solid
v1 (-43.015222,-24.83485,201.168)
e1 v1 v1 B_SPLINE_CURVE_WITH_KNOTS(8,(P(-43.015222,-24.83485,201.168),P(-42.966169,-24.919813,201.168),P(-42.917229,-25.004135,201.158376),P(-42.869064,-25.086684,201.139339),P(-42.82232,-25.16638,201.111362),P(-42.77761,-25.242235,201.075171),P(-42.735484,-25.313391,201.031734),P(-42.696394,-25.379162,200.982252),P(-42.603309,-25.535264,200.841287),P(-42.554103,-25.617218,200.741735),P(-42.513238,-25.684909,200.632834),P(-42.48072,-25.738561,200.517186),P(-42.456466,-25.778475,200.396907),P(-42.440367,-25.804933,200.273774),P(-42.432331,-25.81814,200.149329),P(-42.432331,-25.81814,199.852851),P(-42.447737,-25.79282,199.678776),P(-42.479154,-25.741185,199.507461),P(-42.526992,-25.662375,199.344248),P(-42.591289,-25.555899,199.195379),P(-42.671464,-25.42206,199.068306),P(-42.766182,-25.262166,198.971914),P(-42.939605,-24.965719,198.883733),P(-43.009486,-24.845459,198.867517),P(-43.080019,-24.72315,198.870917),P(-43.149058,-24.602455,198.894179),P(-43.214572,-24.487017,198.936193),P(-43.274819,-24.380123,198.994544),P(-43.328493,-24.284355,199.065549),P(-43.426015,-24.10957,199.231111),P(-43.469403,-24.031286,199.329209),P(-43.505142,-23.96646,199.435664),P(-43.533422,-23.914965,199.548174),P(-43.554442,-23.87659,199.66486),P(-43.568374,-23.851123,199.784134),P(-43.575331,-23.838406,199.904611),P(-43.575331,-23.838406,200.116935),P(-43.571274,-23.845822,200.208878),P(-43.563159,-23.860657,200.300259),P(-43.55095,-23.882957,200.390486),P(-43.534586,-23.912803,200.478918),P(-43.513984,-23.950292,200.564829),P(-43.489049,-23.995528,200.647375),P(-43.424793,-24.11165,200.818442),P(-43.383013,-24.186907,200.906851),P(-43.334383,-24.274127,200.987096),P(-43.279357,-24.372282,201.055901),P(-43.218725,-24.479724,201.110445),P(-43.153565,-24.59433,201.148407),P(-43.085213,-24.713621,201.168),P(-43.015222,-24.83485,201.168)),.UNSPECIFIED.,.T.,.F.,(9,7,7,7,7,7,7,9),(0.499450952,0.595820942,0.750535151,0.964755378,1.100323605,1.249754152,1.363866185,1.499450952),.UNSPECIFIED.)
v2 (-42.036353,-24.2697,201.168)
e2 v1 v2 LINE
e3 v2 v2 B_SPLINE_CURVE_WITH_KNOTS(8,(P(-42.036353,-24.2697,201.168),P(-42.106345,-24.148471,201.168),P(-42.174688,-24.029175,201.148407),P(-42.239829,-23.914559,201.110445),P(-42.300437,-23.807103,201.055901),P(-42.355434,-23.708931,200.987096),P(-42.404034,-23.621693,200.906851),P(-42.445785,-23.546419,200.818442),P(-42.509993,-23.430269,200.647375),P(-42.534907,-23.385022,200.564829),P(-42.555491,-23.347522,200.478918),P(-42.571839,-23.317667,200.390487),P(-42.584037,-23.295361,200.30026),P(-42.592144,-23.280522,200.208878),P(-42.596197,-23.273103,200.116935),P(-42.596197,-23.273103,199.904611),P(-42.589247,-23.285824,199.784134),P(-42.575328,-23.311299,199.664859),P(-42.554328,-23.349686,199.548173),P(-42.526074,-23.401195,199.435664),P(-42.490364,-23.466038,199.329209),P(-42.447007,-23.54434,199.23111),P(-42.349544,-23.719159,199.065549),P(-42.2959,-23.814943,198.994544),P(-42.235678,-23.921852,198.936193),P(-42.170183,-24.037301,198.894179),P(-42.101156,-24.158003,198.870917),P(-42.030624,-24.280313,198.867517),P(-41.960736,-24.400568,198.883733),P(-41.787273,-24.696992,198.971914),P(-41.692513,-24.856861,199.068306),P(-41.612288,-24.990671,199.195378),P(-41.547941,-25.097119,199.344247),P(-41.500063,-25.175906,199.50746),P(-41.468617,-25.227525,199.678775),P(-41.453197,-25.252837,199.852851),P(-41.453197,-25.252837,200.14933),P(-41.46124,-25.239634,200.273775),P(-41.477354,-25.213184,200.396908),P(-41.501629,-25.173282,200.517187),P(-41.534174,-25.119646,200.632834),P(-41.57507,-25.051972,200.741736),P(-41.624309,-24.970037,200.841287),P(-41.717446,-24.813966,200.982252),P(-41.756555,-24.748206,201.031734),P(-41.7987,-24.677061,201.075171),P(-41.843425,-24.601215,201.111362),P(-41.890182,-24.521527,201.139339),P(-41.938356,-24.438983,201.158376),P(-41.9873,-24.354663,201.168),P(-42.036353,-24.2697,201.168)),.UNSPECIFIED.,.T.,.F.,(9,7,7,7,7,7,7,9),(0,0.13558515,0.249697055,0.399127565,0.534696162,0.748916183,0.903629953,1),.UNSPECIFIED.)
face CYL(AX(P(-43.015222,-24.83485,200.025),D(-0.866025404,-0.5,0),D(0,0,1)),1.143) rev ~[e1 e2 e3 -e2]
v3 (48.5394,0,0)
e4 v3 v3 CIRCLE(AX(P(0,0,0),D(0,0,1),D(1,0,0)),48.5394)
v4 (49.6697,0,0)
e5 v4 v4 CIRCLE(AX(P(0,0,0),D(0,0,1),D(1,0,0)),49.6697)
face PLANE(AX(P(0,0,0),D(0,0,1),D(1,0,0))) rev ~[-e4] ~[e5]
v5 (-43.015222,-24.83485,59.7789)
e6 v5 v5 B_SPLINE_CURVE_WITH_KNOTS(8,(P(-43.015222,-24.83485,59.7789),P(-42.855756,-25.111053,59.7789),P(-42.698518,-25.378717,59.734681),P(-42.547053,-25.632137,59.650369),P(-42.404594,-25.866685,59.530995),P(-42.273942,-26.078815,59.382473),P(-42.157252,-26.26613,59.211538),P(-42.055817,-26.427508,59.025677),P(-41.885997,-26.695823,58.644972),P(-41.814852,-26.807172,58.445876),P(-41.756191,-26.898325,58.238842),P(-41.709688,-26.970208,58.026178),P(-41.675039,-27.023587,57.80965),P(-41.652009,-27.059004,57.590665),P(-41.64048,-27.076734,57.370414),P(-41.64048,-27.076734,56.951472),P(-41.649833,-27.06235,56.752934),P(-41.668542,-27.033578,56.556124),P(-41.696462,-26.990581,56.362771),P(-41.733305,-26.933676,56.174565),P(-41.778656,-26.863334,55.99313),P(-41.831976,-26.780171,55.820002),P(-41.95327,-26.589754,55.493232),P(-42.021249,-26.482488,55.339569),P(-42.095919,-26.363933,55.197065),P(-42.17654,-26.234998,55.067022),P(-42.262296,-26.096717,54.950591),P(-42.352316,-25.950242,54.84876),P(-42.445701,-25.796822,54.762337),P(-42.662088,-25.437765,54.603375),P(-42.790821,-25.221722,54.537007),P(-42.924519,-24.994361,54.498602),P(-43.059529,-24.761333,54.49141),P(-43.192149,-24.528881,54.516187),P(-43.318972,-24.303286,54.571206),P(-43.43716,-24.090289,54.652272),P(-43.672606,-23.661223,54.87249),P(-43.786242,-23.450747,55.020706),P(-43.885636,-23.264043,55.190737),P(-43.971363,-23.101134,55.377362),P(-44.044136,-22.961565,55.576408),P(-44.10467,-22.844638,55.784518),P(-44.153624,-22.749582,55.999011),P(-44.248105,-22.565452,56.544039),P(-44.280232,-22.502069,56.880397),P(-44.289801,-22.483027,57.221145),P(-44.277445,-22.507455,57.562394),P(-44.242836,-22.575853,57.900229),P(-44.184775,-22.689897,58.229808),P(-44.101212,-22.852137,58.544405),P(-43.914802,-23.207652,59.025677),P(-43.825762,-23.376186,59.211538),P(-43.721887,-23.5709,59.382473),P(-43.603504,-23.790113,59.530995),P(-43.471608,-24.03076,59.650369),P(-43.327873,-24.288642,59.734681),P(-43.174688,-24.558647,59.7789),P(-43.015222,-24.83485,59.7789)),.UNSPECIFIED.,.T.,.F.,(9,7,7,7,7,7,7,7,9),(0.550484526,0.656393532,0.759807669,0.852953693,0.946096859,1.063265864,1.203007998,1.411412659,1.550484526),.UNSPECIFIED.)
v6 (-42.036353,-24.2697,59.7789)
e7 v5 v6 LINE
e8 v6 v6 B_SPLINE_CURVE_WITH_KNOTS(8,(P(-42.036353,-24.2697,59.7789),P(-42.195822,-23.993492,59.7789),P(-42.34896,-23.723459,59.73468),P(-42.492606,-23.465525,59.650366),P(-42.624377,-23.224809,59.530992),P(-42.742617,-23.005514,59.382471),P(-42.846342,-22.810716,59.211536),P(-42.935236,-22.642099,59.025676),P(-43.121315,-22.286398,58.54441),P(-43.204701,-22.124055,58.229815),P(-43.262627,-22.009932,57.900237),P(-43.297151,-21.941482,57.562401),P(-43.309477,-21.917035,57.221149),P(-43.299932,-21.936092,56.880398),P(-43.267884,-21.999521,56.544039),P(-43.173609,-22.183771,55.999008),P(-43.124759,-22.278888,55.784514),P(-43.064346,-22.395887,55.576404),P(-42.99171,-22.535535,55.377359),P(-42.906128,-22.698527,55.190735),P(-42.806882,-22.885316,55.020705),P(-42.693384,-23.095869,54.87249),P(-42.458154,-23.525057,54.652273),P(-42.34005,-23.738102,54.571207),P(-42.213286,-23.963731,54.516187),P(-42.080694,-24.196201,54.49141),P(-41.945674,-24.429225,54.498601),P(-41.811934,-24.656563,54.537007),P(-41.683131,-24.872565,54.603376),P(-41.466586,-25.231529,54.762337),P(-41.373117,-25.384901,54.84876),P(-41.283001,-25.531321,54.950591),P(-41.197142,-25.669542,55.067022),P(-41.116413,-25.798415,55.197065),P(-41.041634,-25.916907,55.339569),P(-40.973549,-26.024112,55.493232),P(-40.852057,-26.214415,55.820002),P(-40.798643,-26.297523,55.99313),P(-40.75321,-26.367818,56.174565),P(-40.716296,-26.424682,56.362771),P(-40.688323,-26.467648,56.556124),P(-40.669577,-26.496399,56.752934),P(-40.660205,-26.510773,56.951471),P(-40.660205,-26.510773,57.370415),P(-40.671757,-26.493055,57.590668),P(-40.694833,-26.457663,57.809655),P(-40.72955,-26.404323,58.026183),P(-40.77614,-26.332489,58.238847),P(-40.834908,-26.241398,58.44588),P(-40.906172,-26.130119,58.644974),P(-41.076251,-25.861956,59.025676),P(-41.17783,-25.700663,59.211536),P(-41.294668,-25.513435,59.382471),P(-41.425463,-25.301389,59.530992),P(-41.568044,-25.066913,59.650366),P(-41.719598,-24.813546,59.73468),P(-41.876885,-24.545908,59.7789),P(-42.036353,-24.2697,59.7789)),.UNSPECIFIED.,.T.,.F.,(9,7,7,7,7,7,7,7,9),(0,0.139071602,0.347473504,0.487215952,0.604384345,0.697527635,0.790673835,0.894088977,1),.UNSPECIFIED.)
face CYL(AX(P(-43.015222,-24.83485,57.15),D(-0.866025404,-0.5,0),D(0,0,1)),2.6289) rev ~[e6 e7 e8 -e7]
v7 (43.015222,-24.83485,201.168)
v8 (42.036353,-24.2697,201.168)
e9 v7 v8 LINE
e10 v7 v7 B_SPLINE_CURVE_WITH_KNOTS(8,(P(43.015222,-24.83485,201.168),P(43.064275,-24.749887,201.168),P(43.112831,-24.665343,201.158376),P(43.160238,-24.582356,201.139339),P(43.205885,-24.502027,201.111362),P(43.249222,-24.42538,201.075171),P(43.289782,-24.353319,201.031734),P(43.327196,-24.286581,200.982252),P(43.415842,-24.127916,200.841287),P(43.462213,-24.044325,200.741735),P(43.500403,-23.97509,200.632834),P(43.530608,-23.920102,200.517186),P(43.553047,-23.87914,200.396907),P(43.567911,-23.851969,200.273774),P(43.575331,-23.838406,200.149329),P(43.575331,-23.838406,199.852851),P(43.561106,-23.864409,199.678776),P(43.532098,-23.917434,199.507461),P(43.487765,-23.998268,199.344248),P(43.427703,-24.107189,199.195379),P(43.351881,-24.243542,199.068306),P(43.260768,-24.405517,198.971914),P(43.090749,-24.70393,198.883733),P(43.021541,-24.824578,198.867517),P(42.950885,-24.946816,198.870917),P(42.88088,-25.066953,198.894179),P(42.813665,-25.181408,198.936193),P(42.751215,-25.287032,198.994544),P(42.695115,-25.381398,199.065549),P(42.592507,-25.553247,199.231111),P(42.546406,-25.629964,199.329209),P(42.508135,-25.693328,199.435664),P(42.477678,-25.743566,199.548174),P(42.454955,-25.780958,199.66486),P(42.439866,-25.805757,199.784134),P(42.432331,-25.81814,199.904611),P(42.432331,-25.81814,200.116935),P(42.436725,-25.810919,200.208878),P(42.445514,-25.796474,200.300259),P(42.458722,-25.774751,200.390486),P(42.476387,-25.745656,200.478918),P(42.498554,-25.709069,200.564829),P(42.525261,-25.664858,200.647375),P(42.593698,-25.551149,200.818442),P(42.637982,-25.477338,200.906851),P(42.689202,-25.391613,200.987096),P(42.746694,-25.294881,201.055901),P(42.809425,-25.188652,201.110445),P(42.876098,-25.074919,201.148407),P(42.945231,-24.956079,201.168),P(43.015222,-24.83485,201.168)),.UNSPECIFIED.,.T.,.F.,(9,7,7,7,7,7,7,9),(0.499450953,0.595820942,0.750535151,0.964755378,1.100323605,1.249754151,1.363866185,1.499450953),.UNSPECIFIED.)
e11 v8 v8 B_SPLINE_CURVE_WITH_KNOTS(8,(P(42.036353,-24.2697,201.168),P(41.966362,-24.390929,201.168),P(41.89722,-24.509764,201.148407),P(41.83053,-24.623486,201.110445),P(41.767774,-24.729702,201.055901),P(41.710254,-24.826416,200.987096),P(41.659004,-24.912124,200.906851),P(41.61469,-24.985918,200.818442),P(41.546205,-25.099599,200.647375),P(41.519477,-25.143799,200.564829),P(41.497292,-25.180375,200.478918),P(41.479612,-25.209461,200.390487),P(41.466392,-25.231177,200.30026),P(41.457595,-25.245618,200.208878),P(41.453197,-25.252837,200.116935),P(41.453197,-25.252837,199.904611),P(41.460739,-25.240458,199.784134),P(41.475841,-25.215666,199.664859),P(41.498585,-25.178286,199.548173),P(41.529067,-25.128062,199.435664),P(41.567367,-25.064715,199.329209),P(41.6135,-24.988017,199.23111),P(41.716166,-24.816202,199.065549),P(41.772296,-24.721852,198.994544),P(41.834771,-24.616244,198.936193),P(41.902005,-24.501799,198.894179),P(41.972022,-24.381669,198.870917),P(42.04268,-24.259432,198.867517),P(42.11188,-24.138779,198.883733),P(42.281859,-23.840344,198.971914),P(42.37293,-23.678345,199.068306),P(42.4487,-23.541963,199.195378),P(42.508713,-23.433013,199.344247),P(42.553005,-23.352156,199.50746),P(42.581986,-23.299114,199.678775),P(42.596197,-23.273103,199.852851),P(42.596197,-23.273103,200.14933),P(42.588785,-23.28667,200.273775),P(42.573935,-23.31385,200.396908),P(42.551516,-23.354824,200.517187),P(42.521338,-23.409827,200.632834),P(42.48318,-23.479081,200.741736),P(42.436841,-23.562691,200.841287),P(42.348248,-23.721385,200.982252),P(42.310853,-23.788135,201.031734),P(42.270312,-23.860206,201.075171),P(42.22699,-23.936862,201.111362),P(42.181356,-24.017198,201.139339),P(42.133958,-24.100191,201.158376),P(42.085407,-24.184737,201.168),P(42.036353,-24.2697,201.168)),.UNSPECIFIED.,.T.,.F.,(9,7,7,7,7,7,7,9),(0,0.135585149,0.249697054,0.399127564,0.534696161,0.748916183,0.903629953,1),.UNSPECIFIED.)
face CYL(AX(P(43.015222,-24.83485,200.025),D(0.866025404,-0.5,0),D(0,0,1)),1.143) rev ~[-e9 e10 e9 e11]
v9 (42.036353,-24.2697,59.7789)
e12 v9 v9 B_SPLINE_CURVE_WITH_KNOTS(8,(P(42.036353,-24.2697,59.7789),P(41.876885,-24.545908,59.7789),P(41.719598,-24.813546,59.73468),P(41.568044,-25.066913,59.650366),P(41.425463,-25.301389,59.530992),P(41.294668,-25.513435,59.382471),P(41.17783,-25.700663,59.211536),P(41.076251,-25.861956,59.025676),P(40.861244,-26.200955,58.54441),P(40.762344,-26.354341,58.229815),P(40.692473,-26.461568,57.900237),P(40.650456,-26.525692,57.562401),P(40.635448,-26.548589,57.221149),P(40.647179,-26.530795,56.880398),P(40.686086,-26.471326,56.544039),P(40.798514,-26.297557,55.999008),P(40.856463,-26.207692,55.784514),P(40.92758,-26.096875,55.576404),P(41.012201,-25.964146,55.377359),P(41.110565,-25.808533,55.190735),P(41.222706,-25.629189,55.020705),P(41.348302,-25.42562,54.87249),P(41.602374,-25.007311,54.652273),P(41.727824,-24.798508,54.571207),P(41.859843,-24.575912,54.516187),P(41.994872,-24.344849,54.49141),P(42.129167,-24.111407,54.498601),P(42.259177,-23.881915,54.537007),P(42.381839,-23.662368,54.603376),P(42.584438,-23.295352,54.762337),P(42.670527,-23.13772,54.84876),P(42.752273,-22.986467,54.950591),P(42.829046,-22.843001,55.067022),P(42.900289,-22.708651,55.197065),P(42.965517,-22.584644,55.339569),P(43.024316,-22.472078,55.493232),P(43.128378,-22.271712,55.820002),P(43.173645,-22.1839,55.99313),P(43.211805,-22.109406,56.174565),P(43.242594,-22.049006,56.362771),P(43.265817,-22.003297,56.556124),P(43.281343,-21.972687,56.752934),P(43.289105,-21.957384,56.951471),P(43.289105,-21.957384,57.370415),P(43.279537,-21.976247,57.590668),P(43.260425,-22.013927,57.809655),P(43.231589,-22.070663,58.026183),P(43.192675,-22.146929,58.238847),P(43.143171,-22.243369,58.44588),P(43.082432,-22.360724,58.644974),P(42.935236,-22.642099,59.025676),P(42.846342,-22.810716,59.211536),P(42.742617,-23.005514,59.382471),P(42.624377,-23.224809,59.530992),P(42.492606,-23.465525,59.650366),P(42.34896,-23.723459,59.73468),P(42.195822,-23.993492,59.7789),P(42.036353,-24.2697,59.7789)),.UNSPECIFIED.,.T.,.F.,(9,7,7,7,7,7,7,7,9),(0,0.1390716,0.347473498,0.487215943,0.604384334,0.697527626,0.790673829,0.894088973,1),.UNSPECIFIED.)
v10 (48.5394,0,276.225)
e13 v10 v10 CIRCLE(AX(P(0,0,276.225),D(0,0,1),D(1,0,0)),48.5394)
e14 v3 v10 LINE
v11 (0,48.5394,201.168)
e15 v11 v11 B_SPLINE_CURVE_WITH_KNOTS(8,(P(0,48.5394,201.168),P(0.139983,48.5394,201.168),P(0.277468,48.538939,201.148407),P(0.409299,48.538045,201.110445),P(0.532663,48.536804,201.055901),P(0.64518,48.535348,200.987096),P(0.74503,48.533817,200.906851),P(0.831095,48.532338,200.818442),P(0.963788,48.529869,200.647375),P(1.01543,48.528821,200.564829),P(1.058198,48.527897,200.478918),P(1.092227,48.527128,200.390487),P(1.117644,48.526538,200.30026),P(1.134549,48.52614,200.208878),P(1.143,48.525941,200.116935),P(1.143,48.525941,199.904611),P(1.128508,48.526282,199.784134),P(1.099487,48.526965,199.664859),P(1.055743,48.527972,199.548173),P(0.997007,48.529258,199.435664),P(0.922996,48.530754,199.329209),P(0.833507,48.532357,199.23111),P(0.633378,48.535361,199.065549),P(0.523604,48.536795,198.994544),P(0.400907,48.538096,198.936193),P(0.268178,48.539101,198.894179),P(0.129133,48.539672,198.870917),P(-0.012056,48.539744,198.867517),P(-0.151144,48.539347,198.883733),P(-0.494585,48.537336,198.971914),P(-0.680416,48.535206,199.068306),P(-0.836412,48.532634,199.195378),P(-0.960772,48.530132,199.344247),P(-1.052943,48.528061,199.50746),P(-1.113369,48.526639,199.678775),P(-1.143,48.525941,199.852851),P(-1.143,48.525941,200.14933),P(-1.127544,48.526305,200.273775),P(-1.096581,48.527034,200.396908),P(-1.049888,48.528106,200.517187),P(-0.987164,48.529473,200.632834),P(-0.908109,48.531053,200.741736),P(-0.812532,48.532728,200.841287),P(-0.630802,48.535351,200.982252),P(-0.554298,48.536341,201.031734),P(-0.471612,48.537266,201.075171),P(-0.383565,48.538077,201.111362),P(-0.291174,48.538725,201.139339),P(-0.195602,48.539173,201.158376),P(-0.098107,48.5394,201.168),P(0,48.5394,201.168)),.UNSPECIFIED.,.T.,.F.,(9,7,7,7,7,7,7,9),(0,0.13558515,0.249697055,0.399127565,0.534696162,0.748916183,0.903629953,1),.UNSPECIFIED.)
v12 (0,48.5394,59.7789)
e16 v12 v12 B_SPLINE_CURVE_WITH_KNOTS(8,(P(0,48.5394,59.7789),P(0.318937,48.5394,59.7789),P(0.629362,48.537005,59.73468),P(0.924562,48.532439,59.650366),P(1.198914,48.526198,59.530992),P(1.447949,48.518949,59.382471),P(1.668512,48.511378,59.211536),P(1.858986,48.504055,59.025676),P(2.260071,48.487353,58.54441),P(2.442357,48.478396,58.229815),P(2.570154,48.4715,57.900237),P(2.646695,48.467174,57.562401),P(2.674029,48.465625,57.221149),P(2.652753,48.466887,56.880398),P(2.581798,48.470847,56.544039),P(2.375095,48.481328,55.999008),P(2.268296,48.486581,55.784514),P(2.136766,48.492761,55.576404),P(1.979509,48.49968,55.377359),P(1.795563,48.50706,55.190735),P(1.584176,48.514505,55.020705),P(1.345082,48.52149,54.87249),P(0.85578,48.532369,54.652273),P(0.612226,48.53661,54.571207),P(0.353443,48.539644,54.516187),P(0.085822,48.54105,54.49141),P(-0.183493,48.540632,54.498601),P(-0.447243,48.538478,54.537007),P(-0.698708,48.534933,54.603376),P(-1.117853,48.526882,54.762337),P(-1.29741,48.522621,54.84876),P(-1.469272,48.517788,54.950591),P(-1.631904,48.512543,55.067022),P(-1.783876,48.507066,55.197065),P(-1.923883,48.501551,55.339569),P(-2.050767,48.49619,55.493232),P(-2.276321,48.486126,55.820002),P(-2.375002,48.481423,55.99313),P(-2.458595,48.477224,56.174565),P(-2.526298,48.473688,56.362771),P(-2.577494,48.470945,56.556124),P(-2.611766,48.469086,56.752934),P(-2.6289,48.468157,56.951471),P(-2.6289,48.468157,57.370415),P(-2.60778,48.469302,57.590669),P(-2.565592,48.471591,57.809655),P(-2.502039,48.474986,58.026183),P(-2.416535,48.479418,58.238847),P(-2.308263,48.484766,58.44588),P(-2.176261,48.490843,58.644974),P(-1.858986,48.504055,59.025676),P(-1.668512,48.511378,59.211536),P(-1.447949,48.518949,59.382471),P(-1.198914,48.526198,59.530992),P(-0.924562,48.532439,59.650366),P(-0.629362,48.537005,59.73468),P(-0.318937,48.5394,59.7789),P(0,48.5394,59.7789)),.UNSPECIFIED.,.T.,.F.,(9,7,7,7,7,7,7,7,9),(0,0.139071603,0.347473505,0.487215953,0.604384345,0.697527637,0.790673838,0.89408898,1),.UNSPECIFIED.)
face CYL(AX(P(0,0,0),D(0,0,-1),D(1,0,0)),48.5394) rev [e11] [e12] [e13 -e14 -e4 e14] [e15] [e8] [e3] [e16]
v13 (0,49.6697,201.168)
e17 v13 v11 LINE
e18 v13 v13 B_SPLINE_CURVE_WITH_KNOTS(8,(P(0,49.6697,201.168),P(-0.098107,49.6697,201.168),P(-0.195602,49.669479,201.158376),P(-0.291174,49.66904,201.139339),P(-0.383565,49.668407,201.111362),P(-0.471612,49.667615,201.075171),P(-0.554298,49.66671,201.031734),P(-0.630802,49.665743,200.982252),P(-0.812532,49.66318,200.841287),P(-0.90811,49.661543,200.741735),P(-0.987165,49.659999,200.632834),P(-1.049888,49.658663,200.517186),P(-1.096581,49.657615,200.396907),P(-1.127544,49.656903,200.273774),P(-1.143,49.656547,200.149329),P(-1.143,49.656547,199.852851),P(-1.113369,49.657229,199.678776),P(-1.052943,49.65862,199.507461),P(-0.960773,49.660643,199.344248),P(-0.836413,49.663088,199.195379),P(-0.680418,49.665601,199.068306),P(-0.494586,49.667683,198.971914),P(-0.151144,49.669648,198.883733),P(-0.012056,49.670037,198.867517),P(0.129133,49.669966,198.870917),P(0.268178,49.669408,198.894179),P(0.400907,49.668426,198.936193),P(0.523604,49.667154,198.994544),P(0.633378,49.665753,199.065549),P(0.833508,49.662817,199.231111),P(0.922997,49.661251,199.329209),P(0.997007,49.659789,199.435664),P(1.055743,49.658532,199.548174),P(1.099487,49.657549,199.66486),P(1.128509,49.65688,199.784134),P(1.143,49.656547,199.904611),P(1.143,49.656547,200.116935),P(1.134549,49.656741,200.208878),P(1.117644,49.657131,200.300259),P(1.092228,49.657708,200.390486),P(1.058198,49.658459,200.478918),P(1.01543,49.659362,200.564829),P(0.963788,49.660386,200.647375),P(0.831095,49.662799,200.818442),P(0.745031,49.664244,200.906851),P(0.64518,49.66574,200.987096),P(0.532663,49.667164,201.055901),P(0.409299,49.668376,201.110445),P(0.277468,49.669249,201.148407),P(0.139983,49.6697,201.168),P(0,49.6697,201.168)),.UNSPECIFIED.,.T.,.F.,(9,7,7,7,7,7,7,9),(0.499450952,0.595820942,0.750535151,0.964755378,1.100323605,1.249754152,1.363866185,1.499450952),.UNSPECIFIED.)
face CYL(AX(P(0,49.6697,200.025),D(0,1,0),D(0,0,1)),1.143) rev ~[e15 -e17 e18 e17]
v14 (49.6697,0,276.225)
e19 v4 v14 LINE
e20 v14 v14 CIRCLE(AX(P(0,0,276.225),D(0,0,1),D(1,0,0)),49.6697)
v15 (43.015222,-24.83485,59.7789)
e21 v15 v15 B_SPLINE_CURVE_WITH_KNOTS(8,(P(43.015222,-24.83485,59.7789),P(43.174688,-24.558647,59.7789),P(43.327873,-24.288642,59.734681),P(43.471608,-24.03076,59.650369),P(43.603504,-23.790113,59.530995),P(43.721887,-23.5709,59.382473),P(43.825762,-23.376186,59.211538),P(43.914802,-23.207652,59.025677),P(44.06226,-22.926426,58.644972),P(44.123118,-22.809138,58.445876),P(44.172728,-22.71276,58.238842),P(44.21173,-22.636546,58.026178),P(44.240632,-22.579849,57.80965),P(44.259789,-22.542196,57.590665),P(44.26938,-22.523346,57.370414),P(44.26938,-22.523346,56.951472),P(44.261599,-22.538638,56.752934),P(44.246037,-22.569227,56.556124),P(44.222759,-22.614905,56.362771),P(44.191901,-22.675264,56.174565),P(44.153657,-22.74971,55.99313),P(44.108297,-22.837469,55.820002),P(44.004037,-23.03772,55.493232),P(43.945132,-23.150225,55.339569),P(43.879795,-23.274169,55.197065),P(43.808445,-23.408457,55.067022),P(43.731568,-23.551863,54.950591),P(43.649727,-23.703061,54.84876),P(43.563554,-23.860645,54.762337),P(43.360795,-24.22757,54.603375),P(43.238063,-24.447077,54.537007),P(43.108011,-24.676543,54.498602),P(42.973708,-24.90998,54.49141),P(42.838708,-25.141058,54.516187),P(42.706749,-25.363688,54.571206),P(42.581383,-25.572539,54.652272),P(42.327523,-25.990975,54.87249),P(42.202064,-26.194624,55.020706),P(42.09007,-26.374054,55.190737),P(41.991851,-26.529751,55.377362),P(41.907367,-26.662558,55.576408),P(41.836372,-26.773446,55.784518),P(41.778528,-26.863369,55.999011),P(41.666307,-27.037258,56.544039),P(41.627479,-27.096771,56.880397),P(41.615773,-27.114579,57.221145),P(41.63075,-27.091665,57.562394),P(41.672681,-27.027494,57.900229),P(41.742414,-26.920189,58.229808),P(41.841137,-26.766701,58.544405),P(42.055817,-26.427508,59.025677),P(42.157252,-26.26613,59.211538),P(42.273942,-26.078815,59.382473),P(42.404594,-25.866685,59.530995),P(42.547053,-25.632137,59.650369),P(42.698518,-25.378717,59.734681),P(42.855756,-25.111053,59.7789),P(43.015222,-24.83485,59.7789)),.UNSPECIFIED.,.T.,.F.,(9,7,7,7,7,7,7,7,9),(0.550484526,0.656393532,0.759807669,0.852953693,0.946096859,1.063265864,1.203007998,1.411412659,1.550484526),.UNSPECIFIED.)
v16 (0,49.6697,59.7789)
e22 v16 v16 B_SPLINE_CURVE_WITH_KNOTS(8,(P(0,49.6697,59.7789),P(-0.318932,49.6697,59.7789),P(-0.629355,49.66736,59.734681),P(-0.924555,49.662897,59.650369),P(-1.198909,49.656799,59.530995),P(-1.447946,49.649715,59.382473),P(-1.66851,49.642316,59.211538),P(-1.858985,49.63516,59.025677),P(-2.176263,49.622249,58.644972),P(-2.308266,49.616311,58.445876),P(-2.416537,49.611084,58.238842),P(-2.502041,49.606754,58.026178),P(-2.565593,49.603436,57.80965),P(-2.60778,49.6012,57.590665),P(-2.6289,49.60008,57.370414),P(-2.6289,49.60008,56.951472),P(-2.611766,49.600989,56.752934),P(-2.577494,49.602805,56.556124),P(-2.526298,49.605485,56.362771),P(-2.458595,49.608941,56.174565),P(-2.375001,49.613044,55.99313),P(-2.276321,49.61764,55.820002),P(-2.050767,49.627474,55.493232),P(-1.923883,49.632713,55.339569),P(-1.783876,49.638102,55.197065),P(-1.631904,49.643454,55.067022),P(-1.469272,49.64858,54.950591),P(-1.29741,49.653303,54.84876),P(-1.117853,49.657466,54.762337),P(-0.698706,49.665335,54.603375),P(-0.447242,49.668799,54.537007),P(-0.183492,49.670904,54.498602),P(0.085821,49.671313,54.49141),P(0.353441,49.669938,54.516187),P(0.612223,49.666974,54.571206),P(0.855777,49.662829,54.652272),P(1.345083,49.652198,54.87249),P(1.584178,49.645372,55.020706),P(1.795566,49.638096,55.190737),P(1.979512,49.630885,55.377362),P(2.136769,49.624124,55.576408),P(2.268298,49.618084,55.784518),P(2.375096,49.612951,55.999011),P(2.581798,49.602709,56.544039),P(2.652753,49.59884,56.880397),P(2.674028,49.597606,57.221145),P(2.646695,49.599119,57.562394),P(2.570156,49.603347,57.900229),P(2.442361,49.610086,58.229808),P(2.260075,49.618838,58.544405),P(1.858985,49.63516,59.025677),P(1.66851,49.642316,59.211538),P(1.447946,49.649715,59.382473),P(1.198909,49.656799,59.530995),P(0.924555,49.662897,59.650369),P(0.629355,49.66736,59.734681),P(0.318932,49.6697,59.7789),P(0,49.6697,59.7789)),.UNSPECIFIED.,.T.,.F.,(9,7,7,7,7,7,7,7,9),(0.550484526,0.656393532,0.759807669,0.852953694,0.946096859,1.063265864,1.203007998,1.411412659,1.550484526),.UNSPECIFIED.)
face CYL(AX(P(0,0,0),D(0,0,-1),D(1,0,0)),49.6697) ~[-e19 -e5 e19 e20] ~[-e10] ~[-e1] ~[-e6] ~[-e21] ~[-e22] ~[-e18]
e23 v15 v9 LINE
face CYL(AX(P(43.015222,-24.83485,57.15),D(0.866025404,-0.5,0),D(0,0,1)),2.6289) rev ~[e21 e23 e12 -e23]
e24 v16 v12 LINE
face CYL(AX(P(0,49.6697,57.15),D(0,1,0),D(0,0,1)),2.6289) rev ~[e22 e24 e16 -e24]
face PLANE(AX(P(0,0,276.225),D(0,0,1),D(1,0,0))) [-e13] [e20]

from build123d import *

# Parameters (mm, degrees)
SKETCH1_R                = 49.6697
SKETCH1_R_2              = 48.5394
BOSS_EXTRUDE1_DEPTH      = 276.225
SKETCH2_R                = 2.6289
SKETCH2_R_2              = 1.143
F_8_32_T_NUT_HOLES_DEPTH = 5.08
CIRPATTERN1_COUNT        = 3


with BuildPart() as part:
    # Sketch1 → Boss-Extrude1 (new body)
    with BuildSketch(Plane.XY):
        Circle(SKETCH1_R)
        Circle(SKETCH1_R_2, mode=Mode.SUBTRACT)
    extrude(amount=BOSS_EXTRUDE1_DEPTH)

    # Sketch2 → 8-32 T-Nut Holes (cut)
    with BuildSketch(Plane(origin=(0, 49.6697, 0), x_dir=(1, 0, 0), z_dir=(0, 1, 0))):
        with Locations(Location((0, -57.15, 0), (0, 0, 270))):
            Circle(SKETCH2_R)
        with Locations(Location((0, -200.025, 0), (0, 0, 270))):
            Circle(SKETCH2_R_2)
    f_8_32_t_nut_holes = extrude(amount=-F_8_32_T_NUT_HOLES_DEPTH, mode=Mode.SUBTRACT)

    # CirPattern1: 8-32 T-Nut Holes ×3 about axis
    cirpattern1_axis = Axis((0, 0, 276.225), (0, 0, -1))
    for i in range(1, CIRPATTERN1_COUNT):
        add(f_8_32_t_nut_holes.rotate(cirpattern1_axis, i * 360 / CIRPATTERN1_COUNT), mode=Mode.SUBTRACT)


solid = part.part
